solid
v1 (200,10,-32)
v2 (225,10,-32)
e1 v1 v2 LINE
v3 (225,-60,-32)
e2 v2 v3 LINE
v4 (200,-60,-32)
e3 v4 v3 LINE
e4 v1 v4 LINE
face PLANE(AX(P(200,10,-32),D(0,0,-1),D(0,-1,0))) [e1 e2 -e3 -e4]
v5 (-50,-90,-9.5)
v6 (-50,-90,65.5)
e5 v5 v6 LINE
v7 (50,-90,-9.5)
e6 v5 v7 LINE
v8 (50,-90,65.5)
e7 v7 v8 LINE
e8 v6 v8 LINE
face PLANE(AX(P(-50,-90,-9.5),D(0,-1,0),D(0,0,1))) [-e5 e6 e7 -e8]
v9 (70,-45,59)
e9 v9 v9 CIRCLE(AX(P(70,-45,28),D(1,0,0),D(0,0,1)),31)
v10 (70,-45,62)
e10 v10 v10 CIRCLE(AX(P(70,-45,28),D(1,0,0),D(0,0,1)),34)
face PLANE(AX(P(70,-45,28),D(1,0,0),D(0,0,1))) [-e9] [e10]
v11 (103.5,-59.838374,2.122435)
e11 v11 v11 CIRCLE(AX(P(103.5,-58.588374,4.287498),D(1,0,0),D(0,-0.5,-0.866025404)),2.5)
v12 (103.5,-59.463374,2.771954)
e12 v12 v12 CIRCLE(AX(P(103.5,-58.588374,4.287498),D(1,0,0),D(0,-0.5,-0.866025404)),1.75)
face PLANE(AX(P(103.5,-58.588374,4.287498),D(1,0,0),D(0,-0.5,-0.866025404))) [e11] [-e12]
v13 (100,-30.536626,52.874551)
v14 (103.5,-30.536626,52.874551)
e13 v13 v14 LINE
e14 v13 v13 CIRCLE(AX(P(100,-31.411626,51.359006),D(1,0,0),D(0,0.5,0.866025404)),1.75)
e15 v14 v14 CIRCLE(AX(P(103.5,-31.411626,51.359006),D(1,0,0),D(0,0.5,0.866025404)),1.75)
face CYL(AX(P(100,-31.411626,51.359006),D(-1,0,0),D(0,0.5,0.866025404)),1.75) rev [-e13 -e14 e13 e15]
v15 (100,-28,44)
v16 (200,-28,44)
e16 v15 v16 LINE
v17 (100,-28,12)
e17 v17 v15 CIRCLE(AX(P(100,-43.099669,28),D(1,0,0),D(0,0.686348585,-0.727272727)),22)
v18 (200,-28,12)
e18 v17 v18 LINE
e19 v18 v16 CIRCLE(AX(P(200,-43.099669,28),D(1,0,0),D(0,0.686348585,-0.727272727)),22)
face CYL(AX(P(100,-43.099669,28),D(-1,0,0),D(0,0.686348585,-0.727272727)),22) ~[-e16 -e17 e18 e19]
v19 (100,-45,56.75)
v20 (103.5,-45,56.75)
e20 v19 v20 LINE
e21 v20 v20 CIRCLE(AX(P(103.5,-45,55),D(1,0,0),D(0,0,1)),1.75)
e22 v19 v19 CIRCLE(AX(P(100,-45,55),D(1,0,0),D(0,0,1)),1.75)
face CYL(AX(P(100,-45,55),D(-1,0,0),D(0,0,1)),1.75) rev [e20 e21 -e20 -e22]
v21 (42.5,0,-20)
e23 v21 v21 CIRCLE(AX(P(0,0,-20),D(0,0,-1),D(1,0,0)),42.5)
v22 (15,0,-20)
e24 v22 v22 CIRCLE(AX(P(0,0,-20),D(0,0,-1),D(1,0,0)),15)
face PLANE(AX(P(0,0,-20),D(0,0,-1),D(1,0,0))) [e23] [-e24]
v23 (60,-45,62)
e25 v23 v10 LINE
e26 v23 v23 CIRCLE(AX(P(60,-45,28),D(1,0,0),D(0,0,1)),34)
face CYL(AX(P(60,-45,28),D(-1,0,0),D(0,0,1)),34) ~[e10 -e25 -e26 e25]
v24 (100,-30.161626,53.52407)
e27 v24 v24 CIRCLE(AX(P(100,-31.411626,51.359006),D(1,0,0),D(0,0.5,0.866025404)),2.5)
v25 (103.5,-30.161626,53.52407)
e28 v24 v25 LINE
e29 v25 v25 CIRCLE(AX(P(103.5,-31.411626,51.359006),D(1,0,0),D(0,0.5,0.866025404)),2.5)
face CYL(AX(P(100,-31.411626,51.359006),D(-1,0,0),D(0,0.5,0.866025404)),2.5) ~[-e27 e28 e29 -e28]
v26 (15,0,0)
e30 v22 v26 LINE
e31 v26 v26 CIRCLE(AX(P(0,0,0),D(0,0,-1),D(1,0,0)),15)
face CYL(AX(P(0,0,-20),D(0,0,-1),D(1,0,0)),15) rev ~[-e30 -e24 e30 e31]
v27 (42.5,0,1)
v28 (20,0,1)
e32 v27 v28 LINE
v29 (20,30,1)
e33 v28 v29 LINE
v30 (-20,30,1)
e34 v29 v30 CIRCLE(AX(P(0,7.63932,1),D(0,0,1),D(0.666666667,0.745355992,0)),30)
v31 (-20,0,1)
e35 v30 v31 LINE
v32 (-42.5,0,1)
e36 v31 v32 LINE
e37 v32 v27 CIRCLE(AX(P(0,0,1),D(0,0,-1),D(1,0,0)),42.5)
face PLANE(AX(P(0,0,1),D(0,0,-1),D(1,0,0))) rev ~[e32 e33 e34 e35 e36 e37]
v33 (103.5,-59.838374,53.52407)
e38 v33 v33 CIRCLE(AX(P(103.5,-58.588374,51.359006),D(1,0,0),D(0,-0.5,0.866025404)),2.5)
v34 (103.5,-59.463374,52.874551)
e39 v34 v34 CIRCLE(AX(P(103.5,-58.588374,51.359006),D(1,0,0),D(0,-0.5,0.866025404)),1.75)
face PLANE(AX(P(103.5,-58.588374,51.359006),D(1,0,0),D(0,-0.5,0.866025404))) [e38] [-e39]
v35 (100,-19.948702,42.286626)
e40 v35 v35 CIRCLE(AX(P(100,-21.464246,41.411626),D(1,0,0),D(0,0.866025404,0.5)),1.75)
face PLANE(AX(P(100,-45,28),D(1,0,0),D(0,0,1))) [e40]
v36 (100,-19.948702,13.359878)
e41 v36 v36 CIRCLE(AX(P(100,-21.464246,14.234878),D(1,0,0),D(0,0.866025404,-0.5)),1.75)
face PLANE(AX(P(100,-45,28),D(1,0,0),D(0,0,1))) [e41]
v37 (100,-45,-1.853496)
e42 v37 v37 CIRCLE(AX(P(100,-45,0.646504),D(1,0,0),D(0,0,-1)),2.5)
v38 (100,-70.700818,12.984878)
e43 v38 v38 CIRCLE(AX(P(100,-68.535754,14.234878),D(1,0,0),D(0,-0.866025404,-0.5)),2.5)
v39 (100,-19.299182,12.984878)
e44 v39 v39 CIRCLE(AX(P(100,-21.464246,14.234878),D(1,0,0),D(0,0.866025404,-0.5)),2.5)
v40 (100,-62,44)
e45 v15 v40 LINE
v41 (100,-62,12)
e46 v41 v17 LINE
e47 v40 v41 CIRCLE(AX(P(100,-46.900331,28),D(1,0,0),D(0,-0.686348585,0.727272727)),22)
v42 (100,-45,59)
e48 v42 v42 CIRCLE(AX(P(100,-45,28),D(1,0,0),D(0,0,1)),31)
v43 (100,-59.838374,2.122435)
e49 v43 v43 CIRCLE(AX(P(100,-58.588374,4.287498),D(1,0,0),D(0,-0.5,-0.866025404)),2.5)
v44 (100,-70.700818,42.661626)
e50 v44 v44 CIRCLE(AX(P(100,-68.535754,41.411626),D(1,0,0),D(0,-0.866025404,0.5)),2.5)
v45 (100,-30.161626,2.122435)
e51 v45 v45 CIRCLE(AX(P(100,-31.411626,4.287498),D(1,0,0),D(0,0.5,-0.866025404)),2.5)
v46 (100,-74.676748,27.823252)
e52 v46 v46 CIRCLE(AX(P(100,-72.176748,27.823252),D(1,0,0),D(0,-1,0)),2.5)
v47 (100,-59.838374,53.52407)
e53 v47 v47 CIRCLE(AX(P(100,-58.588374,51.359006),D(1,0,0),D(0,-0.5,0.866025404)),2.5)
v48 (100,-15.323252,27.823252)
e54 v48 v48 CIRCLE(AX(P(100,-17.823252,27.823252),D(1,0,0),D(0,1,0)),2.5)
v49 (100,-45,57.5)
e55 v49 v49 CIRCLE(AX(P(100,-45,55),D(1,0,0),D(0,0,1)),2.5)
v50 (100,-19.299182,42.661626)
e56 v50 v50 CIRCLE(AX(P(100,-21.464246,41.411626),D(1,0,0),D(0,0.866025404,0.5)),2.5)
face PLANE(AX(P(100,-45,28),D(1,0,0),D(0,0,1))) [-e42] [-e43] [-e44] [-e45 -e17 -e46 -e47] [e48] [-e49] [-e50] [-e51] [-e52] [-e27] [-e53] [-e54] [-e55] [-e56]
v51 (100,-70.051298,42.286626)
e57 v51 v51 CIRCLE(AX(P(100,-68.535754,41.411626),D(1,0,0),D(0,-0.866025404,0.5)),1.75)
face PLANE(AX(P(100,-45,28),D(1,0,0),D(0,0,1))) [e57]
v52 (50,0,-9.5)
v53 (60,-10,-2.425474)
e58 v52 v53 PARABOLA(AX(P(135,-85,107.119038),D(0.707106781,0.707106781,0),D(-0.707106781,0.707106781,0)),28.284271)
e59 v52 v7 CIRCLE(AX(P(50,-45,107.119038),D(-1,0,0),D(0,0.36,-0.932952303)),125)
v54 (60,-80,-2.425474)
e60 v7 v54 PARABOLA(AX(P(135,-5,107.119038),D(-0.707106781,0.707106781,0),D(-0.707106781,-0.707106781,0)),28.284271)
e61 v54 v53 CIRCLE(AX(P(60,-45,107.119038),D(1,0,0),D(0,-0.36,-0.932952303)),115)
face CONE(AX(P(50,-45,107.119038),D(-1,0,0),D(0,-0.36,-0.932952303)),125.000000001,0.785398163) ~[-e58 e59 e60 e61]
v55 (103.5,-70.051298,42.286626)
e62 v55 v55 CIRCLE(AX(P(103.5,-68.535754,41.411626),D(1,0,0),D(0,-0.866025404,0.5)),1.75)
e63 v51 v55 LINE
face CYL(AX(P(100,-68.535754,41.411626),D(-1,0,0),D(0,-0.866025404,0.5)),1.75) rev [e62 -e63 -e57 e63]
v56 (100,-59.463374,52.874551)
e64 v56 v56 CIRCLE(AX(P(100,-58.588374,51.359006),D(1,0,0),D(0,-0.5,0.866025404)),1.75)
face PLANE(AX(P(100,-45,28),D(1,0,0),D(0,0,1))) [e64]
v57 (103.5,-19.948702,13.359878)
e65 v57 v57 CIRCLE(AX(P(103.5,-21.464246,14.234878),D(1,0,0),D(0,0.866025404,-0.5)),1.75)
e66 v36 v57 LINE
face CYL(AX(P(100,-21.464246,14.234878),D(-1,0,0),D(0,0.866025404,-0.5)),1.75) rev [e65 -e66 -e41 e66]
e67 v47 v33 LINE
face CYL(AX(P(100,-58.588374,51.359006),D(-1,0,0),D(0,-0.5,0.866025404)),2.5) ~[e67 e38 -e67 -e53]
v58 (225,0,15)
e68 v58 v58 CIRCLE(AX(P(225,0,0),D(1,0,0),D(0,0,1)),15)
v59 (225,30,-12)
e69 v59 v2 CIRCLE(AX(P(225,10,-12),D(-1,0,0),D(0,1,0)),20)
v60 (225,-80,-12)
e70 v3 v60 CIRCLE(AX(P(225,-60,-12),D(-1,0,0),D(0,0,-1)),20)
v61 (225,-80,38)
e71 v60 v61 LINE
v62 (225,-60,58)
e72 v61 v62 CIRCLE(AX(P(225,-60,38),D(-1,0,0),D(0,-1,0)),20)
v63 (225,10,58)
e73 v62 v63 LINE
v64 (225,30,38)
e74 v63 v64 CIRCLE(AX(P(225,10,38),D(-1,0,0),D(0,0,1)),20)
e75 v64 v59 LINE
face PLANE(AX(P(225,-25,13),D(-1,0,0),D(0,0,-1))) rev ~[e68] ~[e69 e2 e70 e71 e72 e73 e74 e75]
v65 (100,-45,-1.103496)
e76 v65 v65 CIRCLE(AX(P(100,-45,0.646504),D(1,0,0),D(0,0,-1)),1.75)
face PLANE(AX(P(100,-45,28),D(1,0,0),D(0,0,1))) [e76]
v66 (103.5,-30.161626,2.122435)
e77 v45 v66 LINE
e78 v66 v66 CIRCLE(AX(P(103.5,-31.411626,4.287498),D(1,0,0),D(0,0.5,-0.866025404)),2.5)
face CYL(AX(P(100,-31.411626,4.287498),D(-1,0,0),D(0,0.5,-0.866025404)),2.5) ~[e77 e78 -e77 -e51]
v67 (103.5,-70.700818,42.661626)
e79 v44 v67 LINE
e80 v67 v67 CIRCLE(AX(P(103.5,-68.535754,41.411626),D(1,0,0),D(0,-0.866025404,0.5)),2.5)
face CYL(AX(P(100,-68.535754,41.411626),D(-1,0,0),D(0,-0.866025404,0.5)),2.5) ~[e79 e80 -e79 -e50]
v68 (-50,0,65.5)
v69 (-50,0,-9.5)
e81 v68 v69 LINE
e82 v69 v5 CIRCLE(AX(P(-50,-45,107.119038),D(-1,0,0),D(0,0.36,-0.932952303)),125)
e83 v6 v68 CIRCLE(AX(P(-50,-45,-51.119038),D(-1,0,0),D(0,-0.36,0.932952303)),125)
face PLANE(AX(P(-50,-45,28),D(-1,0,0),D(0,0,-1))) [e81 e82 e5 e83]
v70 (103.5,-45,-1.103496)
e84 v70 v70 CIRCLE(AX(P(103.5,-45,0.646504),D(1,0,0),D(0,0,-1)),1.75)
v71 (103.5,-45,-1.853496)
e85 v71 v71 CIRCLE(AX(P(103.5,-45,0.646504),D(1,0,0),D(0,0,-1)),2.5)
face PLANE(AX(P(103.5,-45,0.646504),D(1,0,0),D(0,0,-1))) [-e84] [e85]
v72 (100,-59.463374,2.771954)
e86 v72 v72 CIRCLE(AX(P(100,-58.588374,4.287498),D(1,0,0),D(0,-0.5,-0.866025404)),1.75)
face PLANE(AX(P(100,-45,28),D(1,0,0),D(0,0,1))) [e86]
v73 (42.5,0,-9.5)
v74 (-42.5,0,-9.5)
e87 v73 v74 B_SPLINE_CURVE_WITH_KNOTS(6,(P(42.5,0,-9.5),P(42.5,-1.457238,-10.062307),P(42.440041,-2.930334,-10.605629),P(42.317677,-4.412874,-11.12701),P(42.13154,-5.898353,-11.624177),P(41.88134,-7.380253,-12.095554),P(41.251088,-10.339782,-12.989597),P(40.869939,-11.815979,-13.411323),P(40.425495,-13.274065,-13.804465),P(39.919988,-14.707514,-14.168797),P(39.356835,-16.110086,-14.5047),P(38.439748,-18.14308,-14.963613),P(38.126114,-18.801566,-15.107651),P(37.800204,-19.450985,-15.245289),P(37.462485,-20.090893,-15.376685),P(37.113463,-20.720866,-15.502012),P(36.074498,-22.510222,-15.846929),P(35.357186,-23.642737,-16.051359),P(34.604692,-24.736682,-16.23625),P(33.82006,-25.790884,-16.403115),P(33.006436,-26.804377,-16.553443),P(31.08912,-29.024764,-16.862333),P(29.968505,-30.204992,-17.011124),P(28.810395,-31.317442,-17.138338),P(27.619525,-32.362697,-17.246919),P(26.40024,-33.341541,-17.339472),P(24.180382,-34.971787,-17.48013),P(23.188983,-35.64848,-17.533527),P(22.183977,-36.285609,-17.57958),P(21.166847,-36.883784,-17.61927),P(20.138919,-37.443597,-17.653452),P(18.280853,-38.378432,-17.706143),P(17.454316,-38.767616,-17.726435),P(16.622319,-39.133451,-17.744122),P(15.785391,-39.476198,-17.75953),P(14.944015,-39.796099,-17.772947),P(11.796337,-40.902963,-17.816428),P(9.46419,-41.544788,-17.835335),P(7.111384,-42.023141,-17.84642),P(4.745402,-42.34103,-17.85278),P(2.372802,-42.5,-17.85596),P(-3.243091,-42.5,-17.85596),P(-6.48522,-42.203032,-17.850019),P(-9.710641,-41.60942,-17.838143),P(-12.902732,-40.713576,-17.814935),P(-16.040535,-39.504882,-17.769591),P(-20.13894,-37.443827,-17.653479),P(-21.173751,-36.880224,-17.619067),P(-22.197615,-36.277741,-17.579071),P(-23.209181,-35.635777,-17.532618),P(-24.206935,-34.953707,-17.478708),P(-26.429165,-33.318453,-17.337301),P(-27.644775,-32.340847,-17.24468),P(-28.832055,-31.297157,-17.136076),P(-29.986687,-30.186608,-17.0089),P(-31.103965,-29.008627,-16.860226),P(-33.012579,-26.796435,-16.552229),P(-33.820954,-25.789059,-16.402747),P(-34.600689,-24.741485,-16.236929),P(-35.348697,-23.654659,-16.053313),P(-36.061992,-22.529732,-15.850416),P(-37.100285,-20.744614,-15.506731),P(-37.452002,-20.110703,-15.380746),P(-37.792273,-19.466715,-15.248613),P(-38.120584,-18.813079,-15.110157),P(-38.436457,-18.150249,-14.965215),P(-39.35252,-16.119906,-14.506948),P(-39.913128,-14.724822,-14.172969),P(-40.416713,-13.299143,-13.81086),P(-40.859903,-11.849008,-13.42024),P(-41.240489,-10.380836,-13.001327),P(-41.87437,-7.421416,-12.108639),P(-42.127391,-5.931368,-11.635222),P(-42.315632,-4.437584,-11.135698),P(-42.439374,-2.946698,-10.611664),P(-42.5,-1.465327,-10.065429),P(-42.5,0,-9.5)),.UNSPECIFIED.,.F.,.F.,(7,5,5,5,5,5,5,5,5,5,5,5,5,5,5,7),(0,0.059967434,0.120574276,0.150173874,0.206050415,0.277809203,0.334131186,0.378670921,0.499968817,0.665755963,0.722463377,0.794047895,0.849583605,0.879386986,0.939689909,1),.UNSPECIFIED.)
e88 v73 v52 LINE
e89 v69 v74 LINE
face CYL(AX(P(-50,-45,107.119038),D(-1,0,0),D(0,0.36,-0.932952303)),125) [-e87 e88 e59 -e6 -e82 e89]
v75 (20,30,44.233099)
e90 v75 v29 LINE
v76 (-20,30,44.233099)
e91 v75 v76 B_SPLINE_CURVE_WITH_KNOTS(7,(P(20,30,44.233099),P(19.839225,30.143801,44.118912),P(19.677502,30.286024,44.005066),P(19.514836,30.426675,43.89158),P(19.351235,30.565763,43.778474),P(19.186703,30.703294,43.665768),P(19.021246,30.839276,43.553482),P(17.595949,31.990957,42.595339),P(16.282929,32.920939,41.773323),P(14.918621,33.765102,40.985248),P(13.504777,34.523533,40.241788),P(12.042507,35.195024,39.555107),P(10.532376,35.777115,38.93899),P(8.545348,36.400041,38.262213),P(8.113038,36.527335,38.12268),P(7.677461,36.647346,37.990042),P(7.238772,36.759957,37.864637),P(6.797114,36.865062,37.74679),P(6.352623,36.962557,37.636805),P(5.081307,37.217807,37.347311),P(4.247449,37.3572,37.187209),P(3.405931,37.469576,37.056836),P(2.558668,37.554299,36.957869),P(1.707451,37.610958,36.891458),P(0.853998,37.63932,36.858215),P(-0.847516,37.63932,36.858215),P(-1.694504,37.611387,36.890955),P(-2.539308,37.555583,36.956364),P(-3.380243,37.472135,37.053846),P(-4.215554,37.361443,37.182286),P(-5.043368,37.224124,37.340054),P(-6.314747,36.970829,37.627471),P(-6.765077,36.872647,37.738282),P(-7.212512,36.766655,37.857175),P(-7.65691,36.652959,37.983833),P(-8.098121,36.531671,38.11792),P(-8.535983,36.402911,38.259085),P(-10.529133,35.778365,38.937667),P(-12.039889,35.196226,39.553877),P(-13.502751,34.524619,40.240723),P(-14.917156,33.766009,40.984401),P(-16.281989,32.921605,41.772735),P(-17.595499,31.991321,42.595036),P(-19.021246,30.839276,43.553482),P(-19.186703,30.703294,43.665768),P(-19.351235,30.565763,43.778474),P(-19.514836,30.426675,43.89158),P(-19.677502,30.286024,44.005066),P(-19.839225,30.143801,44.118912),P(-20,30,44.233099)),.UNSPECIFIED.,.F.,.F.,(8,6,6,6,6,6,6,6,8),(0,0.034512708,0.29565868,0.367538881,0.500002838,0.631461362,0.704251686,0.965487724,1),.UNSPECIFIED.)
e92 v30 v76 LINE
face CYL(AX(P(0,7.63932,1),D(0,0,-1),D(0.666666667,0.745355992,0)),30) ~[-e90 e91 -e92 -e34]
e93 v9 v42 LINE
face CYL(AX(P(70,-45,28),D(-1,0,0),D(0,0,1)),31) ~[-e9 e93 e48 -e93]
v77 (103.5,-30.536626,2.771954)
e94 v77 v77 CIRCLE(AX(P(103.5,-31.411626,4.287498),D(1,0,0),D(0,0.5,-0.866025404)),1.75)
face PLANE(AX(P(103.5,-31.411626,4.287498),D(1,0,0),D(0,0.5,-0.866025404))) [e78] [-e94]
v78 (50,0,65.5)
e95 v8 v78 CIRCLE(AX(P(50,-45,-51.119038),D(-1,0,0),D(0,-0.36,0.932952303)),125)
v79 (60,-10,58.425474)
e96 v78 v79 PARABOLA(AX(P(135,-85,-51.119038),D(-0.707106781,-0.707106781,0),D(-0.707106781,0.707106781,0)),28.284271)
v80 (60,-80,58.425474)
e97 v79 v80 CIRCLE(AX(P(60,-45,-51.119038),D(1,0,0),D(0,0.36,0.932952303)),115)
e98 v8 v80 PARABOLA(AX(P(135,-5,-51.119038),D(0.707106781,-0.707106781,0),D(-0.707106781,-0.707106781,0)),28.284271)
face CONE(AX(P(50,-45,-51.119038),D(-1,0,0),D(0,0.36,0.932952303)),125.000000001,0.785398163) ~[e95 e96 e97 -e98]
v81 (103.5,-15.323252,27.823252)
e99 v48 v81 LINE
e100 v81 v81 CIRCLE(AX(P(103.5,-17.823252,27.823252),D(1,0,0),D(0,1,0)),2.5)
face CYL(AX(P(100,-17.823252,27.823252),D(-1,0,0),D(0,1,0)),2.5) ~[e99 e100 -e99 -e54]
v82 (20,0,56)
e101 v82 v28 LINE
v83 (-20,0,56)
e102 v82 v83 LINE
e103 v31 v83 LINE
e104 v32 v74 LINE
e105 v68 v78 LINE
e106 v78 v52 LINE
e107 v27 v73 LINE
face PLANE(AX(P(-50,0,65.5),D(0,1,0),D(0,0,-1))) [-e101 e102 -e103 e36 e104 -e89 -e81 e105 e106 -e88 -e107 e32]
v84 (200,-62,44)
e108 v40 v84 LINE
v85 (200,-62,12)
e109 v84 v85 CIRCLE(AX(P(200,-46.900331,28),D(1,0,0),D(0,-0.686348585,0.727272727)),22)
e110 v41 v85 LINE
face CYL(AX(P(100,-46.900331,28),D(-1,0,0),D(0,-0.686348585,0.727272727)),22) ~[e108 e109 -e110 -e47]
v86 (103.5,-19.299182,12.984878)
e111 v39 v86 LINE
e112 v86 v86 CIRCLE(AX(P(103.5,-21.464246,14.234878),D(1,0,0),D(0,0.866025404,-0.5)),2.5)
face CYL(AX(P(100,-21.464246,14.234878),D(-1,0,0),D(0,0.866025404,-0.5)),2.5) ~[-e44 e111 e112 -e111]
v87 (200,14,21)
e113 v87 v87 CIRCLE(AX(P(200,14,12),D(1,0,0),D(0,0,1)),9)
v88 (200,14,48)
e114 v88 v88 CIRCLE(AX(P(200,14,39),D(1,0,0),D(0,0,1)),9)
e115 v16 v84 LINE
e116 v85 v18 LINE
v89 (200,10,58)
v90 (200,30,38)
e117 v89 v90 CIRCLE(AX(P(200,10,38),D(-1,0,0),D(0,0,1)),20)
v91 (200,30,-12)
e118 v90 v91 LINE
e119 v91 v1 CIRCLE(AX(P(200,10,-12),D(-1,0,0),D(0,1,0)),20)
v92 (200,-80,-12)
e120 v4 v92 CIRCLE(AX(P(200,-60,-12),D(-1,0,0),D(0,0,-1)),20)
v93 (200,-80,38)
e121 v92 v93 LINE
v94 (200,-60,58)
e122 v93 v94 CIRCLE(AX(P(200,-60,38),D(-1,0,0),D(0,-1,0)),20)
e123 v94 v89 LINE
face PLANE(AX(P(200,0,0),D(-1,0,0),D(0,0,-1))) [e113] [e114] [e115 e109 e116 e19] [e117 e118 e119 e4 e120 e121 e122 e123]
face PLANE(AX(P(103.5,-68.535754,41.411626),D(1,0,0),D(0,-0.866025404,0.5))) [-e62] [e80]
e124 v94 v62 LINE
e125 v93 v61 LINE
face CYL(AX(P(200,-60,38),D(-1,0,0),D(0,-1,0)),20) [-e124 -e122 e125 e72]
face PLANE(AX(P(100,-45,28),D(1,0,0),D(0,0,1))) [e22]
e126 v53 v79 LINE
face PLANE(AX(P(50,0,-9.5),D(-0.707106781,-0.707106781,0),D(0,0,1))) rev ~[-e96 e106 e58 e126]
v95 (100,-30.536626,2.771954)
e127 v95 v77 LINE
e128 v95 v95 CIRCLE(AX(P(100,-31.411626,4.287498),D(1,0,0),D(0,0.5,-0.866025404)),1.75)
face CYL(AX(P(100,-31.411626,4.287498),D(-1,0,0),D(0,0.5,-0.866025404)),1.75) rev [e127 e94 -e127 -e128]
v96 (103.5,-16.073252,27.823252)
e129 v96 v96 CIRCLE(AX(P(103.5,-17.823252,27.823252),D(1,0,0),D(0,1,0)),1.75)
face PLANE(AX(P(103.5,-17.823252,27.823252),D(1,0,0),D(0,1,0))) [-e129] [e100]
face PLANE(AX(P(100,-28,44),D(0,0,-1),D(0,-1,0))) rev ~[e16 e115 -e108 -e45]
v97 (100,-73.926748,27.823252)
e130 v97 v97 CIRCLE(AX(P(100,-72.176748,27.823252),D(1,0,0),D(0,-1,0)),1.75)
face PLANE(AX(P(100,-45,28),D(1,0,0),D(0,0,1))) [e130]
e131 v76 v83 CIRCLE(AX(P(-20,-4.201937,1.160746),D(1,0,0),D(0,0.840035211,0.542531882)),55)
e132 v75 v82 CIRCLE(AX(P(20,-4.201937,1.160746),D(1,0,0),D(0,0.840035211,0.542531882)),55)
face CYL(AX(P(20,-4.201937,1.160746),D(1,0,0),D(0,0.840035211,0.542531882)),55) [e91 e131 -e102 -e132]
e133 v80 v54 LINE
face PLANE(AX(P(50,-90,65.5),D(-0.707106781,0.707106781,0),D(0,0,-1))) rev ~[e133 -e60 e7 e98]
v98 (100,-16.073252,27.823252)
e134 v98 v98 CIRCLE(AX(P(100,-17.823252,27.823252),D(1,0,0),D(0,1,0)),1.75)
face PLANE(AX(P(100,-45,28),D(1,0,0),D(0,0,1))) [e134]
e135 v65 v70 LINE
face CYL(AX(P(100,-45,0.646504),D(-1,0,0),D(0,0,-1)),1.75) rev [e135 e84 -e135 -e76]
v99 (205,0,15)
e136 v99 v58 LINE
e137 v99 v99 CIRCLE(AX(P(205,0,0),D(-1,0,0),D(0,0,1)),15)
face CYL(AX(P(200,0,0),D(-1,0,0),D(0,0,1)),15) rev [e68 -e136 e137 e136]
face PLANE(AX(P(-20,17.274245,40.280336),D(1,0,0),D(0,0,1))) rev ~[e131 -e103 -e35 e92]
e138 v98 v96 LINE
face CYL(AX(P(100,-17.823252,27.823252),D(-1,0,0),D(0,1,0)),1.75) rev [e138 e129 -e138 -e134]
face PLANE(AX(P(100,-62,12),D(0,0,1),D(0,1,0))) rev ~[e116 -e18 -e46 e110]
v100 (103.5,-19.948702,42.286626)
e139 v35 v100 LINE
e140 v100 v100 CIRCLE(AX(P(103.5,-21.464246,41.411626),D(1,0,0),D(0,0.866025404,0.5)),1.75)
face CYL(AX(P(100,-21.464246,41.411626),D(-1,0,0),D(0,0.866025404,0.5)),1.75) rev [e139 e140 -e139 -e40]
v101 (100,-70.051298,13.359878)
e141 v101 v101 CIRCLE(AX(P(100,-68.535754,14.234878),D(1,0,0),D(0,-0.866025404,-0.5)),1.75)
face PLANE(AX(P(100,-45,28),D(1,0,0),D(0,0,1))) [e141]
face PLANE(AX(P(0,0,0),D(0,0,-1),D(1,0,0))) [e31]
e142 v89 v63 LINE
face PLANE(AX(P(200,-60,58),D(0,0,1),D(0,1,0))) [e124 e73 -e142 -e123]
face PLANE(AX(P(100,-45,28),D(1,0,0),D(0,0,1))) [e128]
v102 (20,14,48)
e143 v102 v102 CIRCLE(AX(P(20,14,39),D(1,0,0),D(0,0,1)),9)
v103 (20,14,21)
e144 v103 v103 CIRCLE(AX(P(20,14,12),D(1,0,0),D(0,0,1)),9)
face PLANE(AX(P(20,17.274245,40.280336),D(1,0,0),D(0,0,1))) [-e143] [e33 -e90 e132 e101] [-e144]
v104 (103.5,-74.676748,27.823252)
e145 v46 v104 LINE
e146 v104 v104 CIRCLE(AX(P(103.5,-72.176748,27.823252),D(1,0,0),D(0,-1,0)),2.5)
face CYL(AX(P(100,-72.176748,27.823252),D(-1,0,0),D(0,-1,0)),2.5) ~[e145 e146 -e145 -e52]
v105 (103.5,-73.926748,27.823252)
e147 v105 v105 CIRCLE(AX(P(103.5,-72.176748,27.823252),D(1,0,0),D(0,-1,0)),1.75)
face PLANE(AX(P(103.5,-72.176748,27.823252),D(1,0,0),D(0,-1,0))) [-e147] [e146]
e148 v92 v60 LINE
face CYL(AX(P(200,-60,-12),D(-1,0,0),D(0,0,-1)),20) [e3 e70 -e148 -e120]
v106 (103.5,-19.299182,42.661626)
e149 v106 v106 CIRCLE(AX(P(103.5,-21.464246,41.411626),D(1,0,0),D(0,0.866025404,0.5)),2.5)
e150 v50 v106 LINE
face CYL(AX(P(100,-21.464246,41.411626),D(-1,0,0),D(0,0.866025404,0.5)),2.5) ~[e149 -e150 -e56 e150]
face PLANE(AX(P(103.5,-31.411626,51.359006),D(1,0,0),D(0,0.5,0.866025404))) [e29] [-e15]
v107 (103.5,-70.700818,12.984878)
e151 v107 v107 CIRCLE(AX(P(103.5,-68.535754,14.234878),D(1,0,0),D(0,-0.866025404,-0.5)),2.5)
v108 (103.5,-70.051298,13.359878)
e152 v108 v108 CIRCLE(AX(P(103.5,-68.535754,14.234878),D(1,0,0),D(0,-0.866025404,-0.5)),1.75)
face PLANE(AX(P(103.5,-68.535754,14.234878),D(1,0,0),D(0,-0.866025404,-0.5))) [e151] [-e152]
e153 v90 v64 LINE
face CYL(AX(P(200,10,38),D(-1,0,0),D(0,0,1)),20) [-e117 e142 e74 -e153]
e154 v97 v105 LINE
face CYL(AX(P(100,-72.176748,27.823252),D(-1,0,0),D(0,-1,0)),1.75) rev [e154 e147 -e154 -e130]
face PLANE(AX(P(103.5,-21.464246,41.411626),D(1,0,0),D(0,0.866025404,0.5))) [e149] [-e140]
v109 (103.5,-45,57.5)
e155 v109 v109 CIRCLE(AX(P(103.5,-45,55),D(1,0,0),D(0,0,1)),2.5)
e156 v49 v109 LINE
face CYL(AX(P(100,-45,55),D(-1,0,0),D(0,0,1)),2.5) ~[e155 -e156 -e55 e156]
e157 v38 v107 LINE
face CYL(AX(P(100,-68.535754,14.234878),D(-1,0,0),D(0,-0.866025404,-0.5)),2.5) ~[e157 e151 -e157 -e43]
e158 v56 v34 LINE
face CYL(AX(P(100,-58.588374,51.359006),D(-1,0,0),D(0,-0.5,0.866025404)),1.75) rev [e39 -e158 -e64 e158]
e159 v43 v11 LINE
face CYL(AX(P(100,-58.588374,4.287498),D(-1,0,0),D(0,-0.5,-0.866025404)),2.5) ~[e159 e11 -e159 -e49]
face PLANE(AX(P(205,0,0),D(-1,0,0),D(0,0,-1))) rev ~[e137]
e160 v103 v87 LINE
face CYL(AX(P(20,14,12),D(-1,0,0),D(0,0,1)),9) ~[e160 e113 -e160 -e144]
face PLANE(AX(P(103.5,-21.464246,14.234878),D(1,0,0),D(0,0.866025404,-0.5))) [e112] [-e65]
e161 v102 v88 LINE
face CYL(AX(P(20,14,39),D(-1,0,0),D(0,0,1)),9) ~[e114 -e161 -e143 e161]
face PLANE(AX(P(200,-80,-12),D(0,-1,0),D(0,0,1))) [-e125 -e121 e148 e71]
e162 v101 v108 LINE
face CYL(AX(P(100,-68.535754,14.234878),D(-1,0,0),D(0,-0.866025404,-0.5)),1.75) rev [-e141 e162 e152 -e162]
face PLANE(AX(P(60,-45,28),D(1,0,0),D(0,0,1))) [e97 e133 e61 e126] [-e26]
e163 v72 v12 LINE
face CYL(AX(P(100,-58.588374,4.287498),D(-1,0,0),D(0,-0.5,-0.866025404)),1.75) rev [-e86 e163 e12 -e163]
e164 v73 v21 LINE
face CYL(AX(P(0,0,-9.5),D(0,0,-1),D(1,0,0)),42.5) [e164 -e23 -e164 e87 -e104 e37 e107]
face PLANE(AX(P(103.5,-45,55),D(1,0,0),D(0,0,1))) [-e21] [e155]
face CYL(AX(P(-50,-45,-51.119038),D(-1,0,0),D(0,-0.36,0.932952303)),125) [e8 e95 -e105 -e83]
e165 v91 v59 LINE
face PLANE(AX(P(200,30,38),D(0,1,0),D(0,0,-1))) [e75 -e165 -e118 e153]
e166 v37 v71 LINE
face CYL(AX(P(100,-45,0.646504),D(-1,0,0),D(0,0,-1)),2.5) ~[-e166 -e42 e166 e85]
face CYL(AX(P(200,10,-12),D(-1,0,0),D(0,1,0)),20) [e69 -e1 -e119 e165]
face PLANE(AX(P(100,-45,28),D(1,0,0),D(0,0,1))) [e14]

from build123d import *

# Parameters (mm, degrees)
BOSS_EXTRUDE1_DEPTH   = 100
BOSS_EXTRUDE2_DEPTH   = 10
BOSS_EXTRUDE2_DRAFT   = 45
SKETCH3_R             = 34
BOSS_EXTRUDE3_DEPTH   = 10
SKETCH4_R             = 31
BOSS_EXTRUDE4_DEPTH   = 30
SKETCH5_R             = 2.5
SKETCH5_R_2           = 1.75
BOSS_EXTRUDE5_DEPTH   = 3.5
CIRPATTERN1_COUNT     = 12
BOSS_EXTRUDE6_DEPTH   = 100
SKETCH10_R            = 42.5
BOSS_EXTRUDE10_DEPTH  = 10.5
BOSS_EXTRUDE11_DEPTH  = 30
BOSS_EXTRUDE12_DEPTH  = 40
CUT_EXTRUDE1_DEPTH    = 40
SKETCH14_R            = 15
BOSS_EXTRUDE13_DEPTH  = 25
SKETCH15_R            = 15
CUT_EXTRUDE2_DEPTH    = 20
SKETCH19_R            = 15
BOSS_EXTRUDE15_DEPTH  = 5
SKETCH16_R            = 9
BOSS_EXTRUDE16_DEPTH  = 180
BODY_MOVE_COPY2_ANGLE = 180
BODY_MOVE_COPY3_ANGLE = 180


with BuildPart() as part:
    # Sketch1 → Boss-Extrude1 (new body)
    with BuildSketch(Plane(origin=(0, 0, 0), x_dir=(0, 0, -1), z_dir=(1, 0, 0))):
        with BuildLine():
            Line((-37.5, 45), (37.5, 45))
            ThreePointArc((37.5, 45), (45.880962103, 0), (37.5, -45))
            Line((37.5, -45), (-37.5, -45))
            ThreePointArc((-37.5, -45), (-45.880962103, 0), (-37.5, 45))
        make_face()
    extrude(amount=BOSS_EXTRUDE1_DEPTH)


with BuildPart() as boss_extrude2_tool:
    # Sketch2 → Boss-Extrude2 (with draft: the straight prism first)
    with BuildSketch(Plane(origin=(100, 0, 0), x_dir=(0, 0, -1), z_dir=(1, 0, 0))):
        with BuildLine():
            Line((37.5, 45), (-37.5, 45))
            ThreePointArc((-37.5, 45), (-45.880962103, 0), (-37.5, -45))
            Line((-37.5, -45), (37.5, -45))
            ThreePointArc((37.5, -45), (45.880962103, 0), (37.5, 45))
        make_face()
    extrude(amount=BOSS_EXTRUDE2_DEPTH)
    # Boss-Extrude2: the draft: its side faces are tilted about the plane it starts from
    boss_extrude2_sides = [boss_extrude2_tool.faces().sort_by_distance(p)[0] for p in [
        (105, 45, 0),
        (105, 0, 45.880962103),
        (105, -45, 0),
        (105, 0, -45.880962103),
    ]]
    draft(boss_extrude2_sides, Plane(origin=(100, 0, 0), x_dir=(0, 0, -1), z_dir=(1, 0, 0)), BOSS_EXTRUDE2_DRAFT)


with BuildPart() as part_1:
    add(part.part)

    # Boss-Extrude2: add boss_extrude2_tool
    add(boss_extrude2_tool.part)

    # Sketch3 → Boss-Extrude3 (add)
    with BuildSketch(Plane(origin=(110, 0, 0), x_dir=(0, 0, -1), z_dir=(1, 0, 0))):
        Circle(SKETCH3_R)
    extrude(amount=BOSS_EXTRUDE3_DEPTH)

    # Sketch4 → Boss-Extrude4 (add)
    with BuildSketch(Plane(origin=(120, 0, 0), x_dir=(0, 0, -1), z_dir=(1, 0, 0))):
        Circle(SKETCH4_R)
    extrude(amount=BOSS_EXTRUDE4_DEPTH)

    # Sketch5 → Boss-Extrude5 (add)
    with BuildSketch(Plane(origin=(150, 0, 0), x_dir=(0, 0, -1), z_dir=(1, 0, 0))):
        with Locations((27, 0)):
            Circle(SKETCH5_R)
        with Locations((27, 0)):
            Circle(SKETCH5_R_2, mode=Mode.SUBTRACT)
    boss_extrude5 = extrude(amount=BOSS_EXTRUDE5_DEPTH)

    # CirPattern1: Boss-Extrude5 ×12 about axis
    cirpattern1_axis = Axis((0, 0, 0.17674784), (1, 0, 0))
    for i in range(1, CIRPATTERN1_COUNT):
        add(boss_extrude5.rotate(cirpattern1_axis, i * 360 / CIRPATTERN1_COUNT))

    # Sketch6 → Boss-Extrude6 (add)
    with BuildSketch(Plane(origin=(150, 0, 0), x_dir=(0, 0, -1), z_dir=(1, 0, 0))):
        with BuildLine():
            Line((16, 0), (16, 17))
            ThreePointArc((16, 17), (0, 23.900331129), (-16, 17))
            Line((-16, 17), (-16, 0))
            Line((-16, 0), (-16, -17))
            ThreePointArc((-16, -17), (0, -23.900331129), (16, -17))
            Line((16, -17), (16, 0))
        make_face()
    extrude(amount=BOSS_EXTRUDE6_DEPTH)

    # Sketch10 → Boss-Extrude10 (add, symmetric)
    with BuildSketch(Plane.XY.offset(37.5)):
        with Locations((50, -45)):
            Circle(SKETCH10_R)
    extrude(amount=BOSS_EXTRUDE10_DEPTH, both=True)

    # Sketch11 → Boss-Extrude11 (add)
    with BuildSketch(Plane(origin=(0, 0, 27), x_dir=(-1, 0, 0), z_dir=(0, 0, -1))):
        with BuildLine():
            Line((-50, -45), (-70, -45))
            Line((-70, -45), (-70, -75))
            ThreePointArc((-70, -75), (-50, -82.639320225), (-30, -75))
            Line((-30, -75), (-30, -45))
            Line((-30, -45), (-50, -45))
        make_face()
    extrude(amount=BOSS_EXTRUDE11_DEPTH)

    # Sketch12 → Boss-Extrude12 (add)
    with BuildSketch(Plane(origin=(70, 0, 0), x_dir=(0, 0, -1), z_dir=(1, 0, 0))):
        with BuildLine():
            Line((3, -45), (3, -87))
            ThreePointArc((3, -87), (20.421855105, -68.929675658), (28, -45))
            Line((28, -45), (3, -45))
        make_face()
    extrude(amount=-BOSS_EXTRUDE12_DEPTH)

    # Sketch13 → Cut-Extrude1 (cut)
    with BuildSketch(Plane.XY.offset(-3)):
        with BuildLine():
            Line((30, -75), (30, -87))
            Line((30, -87), (70, -87))
            Line((70, -87), (70, -75))
            ThreePointArc((70, -75), (50, -82.639320225), (30, -75))
        make_face()
    extrude(amount=-CUT_EXTRUDE1_DEPTH, mode=Mode.SUBTRACT)

    # Sketch14 → Boss-Extrude13 (add)
    with BuildSketch(Plane(origin=(250, 0, 0), x_dir=(0, 0, -1), z_dir=(1, 0, 0))):
        with BuildLine():
            Line((-40, 35), (10, 35))
            ThreePointArc((10, 35), (24.142135624, 29.142135624), (30, 15))
            Line((30, 15), (30, -55))
            ThreePointArc((30, -55), (24.142135624, -69.142135624), (10, -75))
            Line((10, -75), (-40, -75))
            ThreePointArc((-40, -75), (-54.142135624, -69.142135624), (-60, -55))
            Line((-60, -55), (-60, 15))
            ThreePointArc((-60, 15), (-54.142135624, 29.142135624), (-40, 35))
        make_face()
        with Locations((-28, -45)):
            Circle(SKETCH14_R, mode=Mode.SUBTRACT)
    extrude(amount=BOSS_EXTRUDE13_DEPTH)

    # Sketch15 → Cut-Extrude2 (cut)
    with BuildSketch(Plane.XY.offset(48)):
        with Locations((50, -45)):
            Circle(SKETCH15_R)
    extrude(amount=-CUT_EXTRUDE2_DEPTH, mode=Mode.SUBTRACT)

    # Sketch19 → Boss-Extrude15 (add)
    with BuildSketch(Plane.ZY.offset(-250)):
        with Locations((28, -45)):
            Circle(SKETCH19_R)
    extrude(amount=-BOSS_EXTRUDE15_DEPTH)

    # Sketch16 → Boss-Extrude16 (add)
    with BuildSketch(Plane(origin=(70, 0, 0), x_dir=(0, 0, -1), z_dir=(1, 0, 0))):
        with Locations((-16, -59)):
            Circle(SKETCH16_R)
        with Locations((11, -59)):
            Circle(SKETCH16_R)
    extrude(amount=BOSS_EXTRUDE16_DEPTH)


with BuildPart() as part_2:
    # Body-Move/Copy1: moved
    add(part_1.part.moved(Location((-50, 45, -28))))


with BuildPart() as part_3:
    # Body-Move/Copy2: moved
    add(part_2.part.rotate(Axis((0, 0, 0), (0, 1, 0)), BODY_MOVE_COPY2_ANGLE))


with BuildPart() as part_4:
    # Body-Move/Copy3: moved
    add(part_3.part.rotate(Axis((0, 0, 0), (0, 0, 1)), BODY_MOVE_COPY3_ANGLE))


solid = part_4.part
